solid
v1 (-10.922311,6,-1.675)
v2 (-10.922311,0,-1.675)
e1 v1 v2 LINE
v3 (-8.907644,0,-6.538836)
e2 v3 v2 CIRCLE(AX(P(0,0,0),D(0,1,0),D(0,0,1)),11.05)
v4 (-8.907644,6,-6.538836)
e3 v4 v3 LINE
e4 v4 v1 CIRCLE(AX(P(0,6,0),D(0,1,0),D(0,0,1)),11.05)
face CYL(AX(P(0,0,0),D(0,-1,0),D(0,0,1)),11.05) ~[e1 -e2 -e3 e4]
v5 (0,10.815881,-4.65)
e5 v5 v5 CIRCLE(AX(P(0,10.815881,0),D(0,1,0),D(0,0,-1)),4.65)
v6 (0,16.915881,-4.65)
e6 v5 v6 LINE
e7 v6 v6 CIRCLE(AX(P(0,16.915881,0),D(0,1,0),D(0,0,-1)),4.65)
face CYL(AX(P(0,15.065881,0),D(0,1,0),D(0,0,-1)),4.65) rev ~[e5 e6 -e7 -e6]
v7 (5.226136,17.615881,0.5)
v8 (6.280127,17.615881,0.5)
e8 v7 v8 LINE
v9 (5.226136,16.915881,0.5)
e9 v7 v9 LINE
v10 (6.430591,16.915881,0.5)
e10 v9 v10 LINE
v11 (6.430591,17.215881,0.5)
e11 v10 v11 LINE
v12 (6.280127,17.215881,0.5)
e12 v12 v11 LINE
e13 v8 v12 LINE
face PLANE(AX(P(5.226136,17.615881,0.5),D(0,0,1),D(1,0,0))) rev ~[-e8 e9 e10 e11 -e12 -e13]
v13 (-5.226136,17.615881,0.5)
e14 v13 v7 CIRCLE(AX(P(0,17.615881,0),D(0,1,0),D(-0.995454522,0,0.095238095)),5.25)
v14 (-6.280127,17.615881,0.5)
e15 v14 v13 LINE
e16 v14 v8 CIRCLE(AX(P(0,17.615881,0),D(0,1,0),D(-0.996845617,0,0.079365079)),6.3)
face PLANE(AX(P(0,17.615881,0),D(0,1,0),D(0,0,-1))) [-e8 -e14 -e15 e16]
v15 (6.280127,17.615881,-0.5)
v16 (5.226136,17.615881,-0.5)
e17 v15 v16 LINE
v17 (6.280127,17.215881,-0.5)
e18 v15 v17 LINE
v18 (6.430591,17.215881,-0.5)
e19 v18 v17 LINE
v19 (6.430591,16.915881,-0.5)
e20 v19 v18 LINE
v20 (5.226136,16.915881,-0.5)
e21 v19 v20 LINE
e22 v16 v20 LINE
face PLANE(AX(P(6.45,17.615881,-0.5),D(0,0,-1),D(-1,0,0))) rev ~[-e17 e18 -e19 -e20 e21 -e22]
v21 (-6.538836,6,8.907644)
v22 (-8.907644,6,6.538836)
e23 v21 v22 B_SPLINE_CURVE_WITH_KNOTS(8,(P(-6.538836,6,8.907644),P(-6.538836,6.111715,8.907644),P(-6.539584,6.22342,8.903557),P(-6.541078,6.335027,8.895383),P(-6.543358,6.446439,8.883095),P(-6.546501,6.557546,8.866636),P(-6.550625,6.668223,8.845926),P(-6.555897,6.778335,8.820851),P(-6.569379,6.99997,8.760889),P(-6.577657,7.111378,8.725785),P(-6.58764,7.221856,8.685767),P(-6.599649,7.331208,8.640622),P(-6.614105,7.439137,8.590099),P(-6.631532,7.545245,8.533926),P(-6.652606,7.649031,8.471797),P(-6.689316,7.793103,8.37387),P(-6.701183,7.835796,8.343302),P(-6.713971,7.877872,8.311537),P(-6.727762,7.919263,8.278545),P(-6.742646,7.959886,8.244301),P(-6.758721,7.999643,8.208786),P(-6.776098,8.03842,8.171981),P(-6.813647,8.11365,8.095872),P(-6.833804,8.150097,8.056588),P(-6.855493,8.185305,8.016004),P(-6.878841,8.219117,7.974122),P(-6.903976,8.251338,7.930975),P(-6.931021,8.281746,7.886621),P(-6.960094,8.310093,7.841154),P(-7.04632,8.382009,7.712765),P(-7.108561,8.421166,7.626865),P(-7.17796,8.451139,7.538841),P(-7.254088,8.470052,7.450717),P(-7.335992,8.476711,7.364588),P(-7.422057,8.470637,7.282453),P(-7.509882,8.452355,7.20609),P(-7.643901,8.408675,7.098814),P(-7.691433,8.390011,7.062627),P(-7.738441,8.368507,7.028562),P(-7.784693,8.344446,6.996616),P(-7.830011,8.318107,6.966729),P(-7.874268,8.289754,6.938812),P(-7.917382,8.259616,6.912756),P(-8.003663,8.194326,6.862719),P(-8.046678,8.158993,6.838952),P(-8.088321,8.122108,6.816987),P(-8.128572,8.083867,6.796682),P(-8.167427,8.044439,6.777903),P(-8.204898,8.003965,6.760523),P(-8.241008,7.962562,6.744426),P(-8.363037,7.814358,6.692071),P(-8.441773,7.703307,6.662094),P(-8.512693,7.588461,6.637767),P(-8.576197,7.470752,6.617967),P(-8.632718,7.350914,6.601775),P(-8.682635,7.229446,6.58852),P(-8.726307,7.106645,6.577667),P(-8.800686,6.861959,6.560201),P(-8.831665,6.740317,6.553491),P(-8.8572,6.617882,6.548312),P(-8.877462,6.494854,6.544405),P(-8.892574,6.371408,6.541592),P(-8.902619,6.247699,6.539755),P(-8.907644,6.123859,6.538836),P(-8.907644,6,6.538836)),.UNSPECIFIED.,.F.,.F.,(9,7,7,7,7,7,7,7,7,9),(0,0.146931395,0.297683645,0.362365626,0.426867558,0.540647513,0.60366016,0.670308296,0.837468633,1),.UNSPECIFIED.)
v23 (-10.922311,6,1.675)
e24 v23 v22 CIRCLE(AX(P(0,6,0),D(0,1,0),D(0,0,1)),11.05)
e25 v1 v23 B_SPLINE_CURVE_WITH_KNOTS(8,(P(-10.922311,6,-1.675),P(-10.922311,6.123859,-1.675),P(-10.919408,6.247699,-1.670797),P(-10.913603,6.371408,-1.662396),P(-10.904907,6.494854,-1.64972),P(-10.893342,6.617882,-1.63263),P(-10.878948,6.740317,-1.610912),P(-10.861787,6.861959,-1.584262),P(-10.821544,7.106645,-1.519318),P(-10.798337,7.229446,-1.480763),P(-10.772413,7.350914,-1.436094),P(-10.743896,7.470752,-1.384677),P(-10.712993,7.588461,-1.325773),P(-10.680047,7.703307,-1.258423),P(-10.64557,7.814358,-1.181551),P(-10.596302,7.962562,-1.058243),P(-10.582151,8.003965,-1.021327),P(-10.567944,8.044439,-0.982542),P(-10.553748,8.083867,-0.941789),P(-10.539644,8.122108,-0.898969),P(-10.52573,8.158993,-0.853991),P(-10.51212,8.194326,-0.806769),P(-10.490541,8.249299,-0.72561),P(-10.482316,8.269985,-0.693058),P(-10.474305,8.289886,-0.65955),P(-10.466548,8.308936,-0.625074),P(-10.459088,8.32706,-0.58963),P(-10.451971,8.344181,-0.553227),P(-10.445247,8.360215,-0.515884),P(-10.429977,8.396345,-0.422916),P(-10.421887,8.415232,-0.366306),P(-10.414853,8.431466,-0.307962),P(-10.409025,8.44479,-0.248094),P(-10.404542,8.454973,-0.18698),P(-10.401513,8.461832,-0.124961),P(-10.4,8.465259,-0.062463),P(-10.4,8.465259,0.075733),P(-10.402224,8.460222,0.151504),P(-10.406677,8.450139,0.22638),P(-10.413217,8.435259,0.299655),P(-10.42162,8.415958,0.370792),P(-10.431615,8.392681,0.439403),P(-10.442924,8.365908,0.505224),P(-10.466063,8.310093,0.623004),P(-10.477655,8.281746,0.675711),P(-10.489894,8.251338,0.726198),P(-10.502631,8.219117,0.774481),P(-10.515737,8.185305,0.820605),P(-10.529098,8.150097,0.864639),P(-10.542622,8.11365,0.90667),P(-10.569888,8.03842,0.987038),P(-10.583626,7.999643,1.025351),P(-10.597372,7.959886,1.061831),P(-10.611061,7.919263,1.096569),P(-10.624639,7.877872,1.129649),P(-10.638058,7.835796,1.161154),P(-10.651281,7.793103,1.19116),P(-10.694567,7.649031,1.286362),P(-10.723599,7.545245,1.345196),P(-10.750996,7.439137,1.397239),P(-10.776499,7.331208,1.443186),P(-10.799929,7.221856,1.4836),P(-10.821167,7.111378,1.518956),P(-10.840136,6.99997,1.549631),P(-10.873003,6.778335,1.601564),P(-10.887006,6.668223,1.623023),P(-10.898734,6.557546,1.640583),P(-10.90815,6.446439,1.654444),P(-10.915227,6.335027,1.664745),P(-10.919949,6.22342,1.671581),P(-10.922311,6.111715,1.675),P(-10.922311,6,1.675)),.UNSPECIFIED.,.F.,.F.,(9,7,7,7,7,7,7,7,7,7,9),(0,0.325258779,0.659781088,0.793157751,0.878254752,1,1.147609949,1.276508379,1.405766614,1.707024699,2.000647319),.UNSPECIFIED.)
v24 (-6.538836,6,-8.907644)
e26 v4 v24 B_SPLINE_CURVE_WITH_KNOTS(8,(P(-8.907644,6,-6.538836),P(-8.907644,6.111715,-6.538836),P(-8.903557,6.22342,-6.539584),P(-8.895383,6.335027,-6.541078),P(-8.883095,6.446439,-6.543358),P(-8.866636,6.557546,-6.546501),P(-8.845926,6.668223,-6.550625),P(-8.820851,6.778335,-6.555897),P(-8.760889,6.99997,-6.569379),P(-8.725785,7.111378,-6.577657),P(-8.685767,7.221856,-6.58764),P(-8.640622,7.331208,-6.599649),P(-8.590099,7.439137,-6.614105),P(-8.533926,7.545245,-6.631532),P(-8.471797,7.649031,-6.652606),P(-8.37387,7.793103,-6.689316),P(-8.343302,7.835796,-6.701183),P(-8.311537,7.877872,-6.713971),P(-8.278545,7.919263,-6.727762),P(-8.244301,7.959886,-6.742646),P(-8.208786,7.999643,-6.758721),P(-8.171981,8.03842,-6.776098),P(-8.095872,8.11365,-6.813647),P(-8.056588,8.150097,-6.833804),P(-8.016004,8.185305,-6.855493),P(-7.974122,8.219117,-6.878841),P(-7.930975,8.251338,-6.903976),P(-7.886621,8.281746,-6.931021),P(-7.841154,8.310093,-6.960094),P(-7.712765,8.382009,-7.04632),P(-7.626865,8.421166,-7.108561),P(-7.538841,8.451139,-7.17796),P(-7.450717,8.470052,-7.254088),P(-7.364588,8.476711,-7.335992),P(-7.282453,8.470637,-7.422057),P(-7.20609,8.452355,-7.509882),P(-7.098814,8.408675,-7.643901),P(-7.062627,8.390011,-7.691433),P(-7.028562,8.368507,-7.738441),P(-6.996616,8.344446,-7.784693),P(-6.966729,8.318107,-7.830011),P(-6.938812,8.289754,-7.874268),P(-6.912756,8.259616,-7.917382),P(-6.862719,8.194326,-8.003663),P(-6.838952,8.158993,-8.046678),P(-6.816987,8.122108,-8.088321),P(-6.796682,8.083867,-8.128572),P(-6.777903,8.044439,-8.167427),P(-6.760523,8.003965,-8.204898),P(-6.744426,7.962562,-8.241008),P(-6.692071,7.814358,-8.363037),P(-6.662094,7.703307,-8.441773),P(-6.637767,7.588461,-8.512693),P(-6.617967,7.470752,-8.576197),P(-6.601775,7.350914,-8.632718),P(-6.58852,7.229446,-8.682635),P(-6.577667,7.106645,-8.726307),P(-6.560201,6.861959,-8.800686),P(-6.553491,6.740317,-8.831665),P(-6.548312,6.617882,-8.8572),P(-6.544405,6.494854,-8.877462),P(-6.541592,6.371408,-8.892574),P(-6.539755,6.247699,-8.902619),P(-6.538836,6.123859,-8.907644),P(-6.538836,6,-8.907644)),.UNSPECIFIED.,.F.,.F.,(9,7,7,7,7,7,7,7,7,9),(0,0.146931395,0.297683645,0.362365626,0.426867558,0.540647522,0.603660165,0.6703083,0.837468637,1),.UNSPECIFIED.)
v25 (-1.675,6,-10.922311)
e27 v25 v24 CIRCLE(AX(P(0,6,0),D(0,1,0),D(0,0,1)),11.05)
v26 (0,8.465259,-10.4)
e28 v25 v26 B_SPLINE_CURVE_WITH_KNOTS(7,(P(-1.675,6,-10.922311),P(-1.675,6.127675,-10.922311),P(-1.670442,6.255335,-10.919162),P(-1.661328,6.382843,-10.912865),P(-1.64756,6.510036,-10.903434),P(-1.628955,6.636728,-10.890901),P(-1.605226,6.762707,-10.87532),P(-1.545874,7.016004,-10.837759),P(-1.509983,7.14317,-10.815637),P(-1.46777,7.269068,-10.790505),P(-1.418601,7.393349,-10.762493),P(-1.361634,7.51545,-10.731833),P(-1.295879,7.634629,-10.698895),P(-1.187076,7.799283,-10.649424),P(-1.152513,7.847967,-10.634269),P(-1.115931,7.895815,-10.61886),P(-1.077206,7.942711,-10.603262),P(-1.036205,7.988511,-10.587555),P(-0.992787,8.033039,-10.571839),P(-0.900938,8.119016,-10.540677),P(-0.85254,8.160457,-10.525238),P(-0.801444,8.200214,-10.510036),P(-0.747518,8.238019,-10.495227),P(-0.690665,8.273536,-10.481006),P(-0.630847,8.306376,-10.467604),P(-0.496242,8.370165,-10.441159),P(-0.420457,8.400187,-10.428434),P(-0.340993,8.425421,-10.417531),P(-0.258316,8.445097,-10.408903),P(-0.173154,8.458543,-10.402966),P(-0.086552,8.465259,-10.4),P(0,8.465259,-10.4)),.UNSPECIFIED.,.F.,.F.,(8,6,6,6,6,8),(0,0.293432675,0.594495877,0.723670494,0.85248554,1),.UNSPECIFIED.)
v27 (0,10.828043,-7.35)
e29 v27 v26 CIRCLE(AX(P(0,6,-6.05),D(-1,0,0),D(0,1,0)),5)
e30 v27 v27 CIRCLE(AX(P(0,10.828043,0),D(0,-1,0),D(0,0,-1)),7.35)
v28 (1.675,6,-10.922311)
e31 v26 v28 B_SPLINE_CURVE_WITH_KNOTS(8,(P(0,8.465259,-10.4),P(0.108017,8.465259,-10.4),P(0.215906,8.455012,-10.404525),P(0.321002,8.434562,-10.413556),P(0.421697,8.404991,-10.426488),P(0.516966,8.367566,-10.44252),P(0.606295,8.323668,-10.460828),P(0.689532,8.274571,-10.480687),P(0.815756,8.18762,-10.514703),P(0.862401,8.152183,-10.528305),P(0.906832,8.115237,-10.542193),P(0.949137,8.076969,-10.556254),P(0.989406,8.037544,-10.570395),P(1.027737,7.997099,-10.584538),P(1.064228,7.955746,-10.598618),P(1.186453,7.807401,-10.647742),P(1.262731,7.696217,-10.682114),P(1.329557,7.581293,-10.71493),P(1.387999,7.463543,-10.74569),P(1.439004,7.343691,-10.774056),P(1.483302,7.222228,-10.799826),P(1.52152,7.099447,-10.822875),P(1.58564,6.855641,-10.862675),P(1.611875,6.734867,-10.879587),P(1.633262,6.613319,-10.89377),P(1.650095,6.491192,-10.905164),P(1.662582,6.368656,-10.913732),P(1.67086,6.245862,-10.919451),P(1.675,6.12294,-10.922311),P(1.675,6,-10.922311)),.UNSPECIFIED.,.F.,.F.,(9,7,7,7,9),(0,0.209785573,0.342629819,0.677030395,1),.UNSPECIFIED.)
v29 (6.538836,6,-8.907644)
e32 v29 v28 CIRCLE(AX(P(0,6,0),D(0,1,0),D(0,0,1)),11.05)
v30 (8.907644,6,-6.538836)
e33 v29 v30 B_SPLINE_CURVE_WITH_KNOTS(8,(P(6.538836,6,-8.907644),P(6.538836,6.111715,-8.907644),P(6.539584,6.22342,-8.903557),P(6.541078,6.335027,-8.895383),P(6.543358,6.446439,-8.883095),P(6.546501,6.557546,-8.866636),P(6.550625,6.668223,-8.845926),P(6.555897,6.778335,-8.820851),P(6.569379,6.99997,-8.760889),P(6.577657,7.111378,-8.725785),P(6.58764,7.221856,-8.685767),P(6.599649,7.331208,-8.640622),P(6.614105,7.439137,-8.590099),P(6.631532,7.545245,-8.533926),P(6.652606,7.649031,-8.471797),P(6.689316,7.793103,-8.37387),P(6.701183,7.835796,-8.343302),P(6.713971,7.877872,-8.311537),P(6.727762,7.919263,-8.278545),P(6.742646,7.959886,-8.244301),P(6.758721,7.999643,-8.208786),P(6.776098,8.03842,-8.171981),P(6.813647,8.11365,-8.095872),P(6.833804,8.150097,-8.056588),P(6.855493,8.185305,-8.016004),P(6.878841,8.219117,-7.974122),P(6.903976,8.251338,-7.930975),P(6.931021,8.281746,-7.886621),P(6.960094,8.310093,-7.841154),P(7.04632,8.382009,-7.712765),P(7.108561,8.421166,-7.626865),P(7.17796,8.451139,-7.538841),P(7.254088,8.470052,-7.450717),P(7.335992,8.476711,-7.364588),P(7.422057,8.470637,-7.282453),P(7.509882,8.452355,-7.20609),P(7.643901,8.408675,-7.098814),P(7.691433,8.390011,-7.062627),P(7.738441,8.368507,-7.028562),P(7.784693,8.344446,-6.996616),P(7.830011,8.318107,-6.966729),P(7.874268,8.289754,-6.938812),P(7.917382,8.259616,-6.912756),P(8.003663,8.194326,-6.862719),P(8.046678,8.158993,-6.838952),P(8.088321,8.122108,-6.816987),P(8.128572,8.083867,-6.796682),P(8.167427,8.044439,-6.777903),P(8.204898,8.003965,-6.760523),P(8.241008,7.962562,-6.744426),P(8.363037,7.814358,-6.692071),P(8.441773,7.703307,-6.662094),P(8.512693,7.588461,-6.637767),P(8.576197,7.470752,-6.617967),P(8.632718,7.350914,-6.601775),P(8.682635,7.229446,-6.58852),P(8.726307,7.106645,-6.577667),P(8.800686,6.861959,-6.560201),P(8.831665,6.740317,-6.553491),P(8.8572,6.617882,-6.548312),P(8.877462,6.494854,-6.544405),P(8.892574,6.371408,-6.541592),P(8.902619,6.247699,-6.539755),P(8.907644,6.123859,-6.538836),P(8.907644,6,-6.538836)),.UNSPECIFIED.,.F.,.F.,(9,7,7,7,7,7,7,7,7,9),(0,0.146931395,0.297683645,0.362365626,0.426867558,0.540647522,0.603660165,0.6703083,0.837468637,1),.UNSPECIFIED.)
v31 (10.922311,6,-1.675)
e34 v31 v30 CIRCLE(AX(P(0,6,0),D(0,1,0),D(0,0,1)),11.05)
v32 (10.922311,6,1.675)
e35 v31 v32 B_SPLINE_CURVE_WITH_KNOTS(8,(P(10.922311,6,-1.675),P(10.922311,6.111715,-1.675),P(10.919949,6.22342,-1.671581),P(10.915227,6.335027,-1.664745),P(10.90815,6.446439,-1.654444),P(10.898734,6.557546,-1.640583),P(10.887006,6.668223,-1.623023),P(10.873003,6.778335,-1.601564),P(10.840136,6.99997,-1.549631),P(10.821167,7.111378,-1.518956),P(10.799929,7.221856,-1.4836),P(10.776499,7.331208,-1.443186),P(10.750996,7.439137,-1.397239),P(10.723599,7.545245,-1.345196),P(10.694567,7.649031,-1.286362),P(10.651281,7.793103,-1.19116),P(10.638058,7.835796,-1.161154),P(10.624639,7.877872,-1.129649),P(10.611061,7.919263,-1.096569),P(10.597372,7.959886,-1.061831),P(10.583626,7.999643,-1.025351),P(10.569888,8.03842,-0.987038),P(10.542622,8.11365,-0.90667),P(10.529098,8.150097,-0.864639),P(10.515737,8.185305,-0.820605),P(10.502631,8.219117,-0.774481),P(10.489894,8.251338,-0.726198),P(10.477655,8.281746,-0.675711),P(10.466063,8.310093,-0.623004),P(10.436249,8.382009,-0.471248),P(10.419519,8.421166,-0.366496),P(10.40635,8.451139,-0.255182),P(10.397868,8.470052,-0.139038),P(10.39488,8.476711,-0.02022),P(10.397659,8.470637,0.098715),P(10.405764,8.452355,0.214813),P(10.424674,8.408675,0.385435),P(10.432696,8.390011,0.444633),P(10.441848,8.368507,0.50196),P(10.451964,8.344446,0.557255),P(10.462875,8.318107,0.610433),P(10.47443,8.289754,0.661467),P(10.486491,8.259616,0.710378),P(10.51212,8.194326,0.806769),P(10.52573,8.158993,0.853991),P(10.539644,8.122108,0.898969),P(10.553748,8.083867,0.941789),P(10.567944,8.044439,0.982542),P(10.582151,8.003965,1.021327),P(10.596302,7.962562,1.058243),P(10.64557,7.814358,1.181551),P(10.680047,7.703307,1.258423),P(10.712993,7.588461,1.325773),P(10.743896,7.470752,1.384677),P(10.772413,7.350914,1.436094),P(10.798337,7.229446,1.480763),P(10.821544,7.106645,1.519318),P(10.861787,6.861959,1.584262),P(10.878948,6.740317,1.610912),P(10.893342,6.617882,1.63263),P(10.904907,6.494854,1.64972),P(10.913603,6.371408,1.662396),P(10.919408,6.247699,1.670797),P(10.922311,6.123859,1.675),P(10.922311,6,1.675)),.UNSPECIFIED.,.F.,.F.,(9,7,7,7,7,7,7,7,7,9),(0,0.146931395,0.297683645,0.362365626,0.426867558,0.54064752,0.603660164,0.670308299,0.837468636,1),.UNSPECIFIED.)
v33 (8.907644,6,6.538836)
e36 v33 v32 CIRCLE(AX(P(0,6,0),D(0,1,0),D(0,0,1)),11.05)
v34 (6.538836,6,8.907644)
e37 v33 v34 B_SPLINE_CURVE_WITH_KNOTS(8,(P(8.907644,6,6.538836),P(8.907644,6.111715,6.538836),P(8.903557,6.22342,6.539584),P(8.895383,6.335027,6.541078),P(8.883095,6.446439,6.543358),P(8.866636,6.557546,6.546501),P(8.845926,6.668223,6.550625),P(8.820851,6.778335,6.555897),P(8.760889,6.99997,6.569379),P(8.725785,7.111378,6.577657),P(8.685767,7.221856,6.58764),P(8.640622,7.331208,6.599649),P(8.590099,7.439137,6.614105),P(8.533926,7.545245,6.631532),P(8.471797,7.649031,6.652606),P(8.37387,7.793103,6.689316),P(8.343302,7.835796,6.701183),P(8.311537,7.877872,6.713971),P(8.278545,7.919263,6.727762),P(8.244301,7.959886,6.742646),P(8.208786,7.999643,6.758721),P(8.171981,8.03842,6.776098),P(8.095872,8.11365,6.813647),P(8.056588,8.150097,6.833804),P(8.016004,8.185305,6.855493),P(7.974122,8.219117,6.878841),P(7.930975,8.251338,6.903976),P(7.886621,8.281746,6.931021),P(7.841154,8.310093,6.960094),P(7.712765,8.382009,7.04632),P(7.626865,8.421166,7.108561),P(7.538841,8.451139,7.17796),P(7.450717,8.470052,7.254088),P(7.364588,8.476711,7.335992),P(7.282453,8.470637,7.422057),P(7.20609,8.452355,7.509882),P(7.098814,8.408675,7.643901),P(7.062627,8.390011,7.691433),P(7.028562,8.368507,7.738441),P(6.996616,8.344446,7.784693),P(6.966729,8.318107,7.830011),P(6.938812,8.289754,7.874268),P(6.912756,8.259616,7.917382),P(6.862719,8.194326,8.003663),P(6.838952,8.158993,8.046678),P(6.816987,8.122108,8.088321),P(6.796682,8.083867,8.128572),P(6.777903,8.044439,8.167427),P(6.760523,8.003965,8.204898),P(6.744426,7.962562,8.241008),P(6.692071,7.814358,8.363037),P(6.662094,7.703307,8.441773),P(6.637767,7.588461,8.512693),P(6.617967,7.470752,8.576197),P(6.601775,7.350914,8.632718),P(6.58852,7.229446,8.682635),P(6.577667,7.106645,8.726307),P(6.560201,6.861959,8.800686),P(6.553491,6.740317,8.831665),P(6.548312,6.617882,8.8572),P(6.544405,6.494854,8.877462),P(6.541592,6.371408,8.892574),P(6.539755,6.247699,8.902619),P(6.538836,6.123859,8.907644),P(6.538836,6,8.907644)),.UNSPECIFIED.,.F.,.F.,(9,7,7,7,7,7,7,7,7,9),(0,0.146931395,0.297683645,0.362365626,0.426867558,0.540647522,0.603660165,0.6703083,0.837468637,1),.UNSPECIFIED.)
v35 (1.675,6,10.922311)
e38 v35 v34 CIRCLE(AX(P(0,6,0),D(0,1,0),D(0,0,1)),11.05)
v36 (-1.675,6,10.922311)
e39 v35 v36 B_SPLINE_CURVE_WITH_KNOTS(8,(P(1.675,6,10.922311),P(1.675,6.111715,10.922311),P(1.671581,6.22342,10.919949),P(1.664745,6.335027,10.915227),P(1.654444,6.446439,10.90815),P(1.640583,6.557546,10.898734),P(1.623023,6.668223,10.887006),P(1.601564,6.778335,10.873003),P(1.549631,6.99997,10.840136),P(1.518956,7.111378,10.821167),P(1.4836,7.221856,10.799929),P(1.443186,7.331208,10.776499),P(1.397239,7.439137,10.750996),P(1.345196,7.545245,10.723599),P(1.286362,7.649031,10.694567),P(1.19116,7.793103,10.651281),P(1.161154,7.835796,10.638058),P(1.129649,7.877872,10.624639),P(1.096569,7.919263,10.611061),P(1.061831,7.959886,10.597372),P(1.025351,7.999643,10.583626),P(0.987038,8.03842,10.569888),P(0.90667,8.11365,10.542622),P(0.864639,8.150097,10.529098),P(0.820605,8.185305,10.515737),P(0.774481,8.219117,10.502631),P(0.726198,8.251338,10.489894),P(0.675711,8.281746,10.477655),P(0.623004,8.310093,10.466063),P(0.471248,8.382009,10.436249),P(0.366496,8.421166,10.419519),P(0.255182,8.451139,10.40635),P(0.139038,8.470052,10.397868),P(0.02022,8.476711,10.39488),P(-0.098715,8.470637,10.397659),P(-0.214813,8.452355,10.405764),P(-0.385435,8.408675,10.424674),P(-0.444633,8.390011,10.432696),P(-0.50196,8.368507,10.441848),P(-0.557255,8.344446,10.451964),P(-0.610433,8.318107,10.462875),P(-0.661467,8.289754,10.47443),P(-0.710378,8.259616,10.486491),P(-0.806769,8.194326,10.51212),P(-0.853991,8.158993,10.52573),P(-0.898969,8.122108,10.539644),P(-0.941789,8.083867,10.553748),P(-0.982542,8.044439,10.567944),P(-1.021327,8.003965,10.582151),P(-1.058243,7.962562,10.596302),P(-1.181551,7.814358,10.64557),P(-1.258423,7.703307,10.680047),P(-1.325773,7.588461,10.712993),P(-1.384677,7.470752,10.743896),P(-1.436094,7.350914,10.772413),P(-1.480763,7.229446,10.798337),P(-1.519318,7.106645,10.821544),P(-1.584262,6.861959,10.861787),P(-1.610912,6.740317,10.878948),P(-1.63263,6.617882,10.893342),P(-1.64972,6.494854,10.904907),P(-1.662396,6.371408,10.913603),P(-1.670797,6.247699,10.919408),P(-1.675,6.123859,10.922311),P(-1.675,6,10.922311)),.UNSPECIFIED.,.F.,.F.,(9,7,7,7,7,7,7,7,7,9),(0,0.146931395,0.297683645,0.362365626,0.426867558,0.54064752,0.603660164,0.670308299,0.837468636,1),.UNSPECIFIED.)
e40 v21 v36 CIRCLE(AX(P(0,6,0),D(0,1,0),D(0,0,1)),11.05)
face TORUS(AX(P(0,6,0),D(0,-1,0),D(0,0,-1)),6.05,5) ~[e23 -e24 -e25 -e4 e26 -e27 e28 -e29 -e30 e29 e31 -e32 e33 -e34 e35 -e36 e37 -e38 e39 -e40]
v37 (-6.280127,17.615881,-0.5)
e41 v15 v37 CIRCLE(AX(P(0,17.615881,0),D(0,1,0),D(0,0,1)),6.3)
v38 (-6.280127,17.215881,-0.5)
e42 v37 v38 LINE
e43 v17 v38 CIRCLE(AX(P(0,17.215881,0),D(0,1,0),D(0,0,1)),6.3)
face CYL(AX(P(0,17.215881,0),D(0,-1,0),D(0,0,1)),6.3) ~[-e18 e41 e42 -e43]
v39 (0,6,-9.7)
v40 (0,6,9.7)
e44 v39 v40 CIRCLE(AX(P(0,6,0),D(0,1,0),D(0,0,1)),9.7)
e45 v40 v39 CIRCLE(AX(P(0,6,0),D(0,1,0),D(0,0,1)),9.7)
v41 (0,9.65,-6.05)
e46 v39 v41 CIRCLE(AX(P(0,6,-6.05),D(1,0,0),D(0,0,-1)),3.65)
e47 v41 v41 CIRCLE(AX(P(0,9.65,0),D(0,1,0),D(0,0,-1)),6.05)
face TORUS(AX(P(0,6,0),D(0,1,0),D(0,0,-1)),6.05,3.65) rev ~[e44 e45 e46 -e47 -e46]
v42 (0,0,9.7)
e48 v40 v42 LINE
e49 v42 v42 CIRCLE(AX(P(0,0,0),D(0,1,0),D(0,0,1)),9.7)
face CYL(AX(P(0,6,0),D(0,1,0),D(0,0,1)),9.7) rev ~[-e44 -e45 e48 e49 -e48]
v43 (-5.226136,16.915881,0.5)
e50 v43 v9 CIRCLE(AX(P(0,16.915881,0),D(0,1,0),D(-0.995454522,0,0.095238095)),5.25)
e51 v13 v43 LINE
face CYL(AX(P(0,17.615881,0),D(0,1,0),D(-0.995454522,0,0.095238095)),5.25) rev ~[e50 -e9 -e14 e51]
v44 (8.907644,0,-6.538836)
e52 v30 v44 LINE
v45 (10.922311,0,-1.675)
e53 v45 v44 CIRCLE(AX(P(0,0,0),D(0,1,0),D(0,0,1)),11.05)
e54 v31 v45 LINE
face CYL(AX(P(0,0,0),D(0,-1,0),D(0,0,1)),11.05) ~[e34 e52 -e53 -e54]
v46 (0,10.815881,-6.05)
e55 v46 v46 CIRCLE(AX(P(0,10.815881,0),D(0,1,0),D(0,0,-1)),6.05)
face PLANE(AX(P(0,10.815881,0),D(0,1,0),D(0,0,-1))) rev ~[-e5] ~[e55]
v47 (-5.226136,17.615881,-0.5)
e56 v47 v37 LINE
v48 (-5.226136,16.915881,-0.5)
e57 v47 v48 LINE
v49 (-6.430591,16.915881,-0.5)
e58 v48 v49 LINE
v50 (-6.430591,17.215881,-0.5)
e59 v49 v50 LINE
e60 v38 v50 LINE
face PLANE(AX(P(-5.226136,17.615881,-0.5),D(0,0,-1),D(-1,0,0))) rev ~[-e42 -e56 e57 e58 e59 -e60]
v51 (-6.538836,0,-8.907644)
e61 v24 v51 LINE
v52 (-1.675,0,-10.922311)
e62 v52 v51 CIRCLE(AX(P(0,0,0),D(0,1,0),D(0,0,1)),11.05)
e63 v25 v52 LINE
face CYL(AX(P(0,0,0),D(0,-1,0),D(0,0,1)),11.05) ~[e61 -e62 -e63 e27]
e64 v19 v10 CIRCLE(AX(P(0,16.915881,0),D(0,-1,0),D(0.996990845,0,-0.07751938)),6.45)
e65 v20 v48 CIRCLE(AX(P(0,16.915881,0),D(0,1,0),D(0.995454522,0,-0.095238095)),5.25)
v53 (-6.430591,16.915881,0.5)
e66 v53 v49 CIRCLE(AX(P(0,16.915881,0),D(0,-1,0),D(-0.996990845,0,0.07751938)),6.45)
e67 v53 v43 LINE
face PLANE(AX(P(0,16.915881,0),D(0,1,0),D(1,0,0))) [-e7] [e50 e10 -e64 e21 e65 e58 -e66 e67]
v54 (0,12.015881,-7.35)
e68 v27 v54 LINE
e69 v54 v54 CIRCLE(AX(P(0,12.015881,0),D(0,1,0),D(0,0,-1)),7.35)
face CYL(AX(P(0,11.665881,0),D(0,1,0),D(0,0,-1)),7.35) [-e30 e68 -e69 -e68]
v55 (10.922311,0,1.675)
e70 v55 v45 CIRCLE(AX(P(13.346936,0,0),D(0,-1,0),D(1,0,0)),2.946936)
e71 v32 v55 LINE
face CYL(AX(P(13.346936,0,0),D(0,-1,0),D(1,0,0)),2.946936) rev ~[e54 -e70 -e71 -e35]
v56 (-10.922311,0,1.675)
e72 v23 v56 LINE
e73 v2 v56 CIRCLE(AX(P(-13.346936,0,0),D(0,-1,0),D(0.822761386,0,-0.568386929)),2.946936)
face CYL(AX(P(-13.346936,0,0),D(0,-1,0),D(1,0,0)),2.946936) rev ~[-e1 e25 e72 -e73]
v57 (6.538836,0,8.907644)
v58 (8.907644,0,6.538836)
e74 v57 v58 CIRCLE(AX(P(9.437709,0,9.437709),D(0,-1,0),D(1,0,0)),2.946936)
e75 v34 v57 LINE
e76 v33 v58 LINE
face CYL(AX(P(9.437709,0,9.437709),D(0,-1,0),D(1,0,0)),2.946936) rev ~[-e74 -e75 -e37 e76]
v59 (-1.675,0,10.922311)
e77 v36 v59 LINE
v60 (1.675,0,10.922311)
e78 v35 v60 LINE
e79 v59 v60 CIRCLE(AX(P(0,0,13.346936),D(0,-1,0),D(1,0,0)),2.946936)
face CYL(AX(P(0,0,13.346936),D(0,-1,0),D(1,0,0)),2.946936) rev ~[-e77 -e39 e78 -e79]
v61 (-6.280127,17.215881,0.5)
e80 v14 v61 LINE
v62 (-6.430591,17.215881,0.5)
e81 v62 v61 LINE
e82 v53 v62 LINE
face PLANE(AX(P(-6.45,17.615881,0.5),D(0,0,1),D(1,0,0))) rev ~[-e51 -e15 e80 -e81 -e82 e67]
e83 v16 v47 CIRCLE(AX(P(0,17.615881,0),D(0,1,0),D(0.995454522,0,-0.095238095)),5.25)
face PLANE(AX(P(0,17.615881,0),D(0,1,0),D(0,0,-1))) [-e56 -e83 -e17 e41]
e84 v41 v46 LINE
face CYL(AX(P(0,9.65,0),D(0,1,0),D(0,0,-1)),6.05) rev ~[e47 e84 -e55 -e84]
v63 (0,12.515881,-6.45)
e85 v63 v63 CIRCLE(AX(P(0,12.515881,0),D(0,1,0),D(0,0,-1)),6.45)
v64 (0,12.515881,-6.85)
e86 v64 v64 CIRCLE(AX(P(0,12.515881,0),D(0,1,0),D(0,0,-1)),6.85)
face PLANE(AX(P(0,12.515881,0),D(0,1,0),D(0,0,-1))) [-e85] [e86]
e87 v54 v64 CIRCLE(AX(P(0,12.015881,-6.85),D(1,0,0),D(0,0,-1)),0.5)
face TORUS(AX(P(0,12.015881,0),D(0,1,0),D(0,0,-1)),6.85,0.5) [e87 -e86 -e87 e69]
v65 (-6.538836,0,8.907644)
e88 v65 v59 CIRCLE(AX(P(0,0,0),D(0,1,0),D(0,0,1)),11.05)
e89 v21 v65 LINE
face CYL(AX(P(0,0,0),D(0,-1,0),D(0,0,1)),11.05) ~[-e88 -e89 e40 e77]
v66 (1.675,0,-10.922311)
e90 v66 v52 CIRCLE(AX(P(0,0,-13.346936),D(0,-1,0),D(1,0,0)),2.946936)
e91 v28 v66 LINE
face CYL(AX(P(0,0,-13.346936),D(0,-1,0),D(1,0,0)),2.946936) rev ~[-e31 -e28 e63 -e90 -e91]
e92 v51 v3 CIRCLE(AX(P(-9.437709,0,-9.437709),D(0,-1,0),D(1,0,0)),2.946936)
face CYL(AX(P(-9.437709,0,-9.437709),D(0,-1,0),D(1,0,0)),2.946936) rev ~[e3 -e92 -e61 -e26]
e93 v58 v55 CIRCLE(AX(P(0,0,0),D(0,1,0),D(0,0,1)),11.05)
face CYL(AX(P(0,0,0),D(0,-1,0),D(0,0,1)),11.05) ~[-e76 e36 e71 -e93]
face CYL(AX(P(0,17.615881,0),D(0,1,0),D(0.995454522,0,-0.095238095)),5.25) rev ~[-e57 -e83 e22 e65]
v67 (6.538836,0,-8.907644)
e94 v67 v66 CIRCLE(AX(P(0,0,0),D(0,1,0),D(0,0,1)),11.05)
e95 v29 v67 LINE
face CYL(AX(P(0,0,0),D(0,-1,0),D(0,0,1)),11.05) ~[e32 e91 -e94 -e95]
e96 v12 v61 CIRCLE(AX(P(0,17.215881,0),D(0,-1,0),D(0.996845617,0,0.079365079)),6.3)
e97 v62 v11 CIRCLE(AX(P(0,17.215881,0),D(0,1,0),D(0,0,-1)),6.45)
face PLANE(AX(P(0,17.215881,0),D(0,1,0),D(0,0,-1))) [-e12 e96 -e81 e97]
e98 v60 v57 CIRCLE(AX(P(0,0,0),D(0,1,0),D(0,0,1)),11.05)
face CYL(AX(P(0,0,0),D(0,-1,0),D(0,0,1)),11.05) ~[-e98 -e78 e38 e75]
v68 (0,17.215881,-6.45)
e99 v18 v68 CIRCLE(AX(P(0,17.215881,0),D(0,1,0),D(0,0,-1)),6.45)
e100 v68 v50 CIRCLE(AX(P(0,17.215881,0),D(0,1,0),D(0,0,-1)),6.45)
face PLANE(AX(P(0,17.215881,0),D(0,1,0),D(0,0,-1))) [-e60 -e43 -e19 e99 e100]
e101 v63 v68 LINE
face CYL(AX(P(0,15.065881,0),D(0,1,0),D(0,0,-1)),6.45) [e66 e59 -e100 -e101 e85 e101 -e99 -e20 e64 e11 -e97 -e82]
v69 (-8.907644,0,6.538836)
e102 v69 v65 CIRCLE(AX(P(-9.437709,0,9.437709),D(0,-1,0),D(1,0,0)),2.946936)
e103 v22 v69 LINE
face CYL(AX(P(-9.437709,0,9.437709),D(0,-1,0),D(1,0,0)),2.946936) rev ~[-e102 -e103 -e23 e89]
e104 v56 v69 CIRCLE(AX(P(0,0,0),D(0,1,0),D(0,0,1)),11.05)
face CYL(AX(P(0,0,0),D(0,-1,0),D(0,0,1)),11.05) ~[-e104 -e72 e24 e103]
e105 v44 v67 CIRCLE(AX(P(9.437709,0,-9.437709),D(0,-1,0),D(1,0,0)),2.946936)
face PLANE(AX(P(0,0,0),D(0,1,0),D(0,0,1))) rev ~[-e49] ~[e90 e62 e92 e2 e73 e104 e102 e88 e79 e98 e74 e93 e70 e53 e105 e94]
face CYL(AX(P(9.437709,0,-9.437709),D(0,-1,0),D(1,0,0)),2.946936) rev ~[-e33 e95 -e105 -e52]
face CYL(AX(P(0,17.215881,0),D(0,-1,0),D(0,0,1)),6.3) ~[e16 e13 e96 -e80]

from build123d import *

# Parameters (mm, degrees)
CROQUIS1_R              = 11.05
SALIENTE_EXTRUIR2_DEPTH = 6
CROQUIS3_R              = 9.7
CORTAR_EXTRUIR2_DEPTH   = 6
CROQUIS7_R              = 2.94693617
CROQUIS7_R_2            = 2.946936168
CORTAR_EXTRUIR3_DEPTH   = 10.56
CROQUIS8_W              = 2.7
CROQUIS8_H              = 1.7
REDONDEO1_R             = 0.5
CROQUIS9_W              = 1.8
CROQUIS9_H              = 5.1
CORTAR_EXTRUIR7_START   = -0.4
CROQUIS14_R             = 6.45
CROQUIS14_R_2           = 6.3
CORTAR_EXTRUIR7_DEPTH   = 0.4
CORTAR_EXTRUIR8_DEPTH   = 0.7


with BuildPart() as part:
    # Croquis1 → Saliente-Extruir2 (new body)
    with BuildSketch(Plane(origin=(0, 0, 0), x_dir=(1, 0, 0), z_dir=(0, 1, 0))):
        with Locations(Location((0, 0, 0), (0, 0, 270))):
            Circle(CROQUIS1_R)
    extrude(amount=SALIENTE_EXTRUIR2_DEPTH)

    # Croquis3 → Cortar-Extruir2 (cut)
    with BuildSketch(Plane(origin=(0, 6, 0), x_dir=(1, 0, 0), z_dir=(0, 1, 0))):
        with Locations(Location((0, 0, 0), (0, 0, 270))):
            Circle(CROQUIS3_R)
    extrude(amount=-CORTAR_EXTRUIR2_DEPTH, mode=Mode.SUBTRACT)

    # Croquis4 → Revolución1 (revolve)
    with BuildSketch(Plane.XY, mode=Mode.PRIVATE) as revoluci_n1_sk:
        with BuildLine():
            Line((6.05, 9.65), (6.05, 11))
            ThreePointArc((6.05, 11), (9.585533906, 9.535533906), (11.05, 6))
            Line((11.05, 6), (9.7, 6))
            ThreePointArc((9.7, 6), (8.630939751, 8.580939751), (6.05, 9.65))
        make_face()
    revolve(revoluci_n1_sk.sketch.rotate(Axis((0, 0, 0), (0, 1, 0)), 90), axis=Axis((0, 0, 0), (0, 1, 0)))

    # Croquis7 → Cortar-Extruir3 (cut)
    with BuildSketch(Plane.XZ):
        with Locations((0, 13.34693617)):
            Circle(CROQUIS7_R)
        with Locations((-9.437709072, 9.437709072)):
            Circle(CROQUIS7_R_2)
        with Locations((9.437709074, 9.437709074)):
            Circle(CROQUIS7_R)
        with Locations((13.34693617, 0)):
            Circle(CROQUIS7_R)
        with Locations((9.437709074, -9.437709074)):
            Circle(CROQUIS7_R)
        with Locations((0, -13.34693617)):
            Circle(CROQUIS7_R)
        with Locations((-9.437709074, -9.437709074)):
            Circle(CROQUIS7_R)
        with Locations((-13.34693617, 0)):
            Circle(CROQUIS7_R)
    extrude(amount=-CORTAR_EXTRUIR3_DEPTH, mode=Mode.SUBTRACT)

    # Croquis8 → Revolución2 (revolve)
    with BuildSketch(Plane.XY, mode=Mode.PRIVATE) as revoluci_n2_sk:
        with Locations((-6, 11.665880959)):
            Rectangle(CROQUIS8_W, CROQUIS8_H)
    revolve(revoluci_n2_sk.sketch.rotate(Axis((0, 0, 0), (0, 1, 0)), 270), axis=Axis((0, 0, 0), (0, 1, 0)))

    # Redondeo1
    redondeo1_edges = [part.edges().sort_by_distance(p)[0] for p in [
        (0, 12.515880959, 7.35),
    ]]
    fillet(redondeo1_edges, radius=REDONDEO1_R)

    # Croquis9 → Revolución3 (revolve)
    with BuildSketch(Plane.XY, mode=Mode.PRIVATE) as revoluci_n3_sk:
        with Locations((-5.55, 15.065880959)):
            Rectangle(CROQUIS9_W, CROQUIS9_H)
    revolve(revoluci_n3_sk.sketch.rotate(Axis((0, 0, 0), (0, 1, 0)), 270), axis=Axis((0, 0, 0), (0, 1, 0)))

    # Croquis14 → Cortar-Extruir7 (cut)
    with BuildSketch(Plane(origin=(0, 17.615880959, 0), x_dir=(1, 0, 0), z_dir=(0, 1, 0)).offset(CORTAR_EXTRUIR7_START)):
        with Locations(Location((0, 0, 0), (0, 0, 90))):
            Circle(CROQUIS14_R)
        with Locations(Location((0, 0, 0), (0, 0, 270))):
            Circle(CROQUIS14_R_2, mode=Mode.SUBTRACT)
    extrude(amount=CORTAR_EXTRUIR7_DEPTH, mode=Mode.SUBTRACT)

    # Croquis10 → Cortar-Extruir8 (cut)
    with BuildSketch(Plane(origin=(0, 17.615880959, 0), x_dir=(1, 0, 0), z_dir=(0, 1, 0))):
        with BuildLine():
            Line((-6.45, -0.5), (-5.22613624, -0.5))
            ThreePointArc((-5.22613624, -0.5), (0, -5.25), (5.22613624, -0.5))
            Line((5.22613624, -0.5), (6.45, -0.5))
            Line((6.45, -0.5), (6.45, 0.5))
            Line((6.45, 0.5), (5.22613624, 0.5))
            ThreePointArc((5.22613624, 0.5), (0, 5.25), (-5.22613624, 0.5))
            Line((-5.22613624, 0.5), (-6.45, 0.5))
            Line((-6.45, 0.5), (-6.45, -0.5))
        make_face()
    extrude(amount=-CORTAR_EXTRUIR8_DEPTH, mode=Mode.SUBTRACT)


solid = part.part
